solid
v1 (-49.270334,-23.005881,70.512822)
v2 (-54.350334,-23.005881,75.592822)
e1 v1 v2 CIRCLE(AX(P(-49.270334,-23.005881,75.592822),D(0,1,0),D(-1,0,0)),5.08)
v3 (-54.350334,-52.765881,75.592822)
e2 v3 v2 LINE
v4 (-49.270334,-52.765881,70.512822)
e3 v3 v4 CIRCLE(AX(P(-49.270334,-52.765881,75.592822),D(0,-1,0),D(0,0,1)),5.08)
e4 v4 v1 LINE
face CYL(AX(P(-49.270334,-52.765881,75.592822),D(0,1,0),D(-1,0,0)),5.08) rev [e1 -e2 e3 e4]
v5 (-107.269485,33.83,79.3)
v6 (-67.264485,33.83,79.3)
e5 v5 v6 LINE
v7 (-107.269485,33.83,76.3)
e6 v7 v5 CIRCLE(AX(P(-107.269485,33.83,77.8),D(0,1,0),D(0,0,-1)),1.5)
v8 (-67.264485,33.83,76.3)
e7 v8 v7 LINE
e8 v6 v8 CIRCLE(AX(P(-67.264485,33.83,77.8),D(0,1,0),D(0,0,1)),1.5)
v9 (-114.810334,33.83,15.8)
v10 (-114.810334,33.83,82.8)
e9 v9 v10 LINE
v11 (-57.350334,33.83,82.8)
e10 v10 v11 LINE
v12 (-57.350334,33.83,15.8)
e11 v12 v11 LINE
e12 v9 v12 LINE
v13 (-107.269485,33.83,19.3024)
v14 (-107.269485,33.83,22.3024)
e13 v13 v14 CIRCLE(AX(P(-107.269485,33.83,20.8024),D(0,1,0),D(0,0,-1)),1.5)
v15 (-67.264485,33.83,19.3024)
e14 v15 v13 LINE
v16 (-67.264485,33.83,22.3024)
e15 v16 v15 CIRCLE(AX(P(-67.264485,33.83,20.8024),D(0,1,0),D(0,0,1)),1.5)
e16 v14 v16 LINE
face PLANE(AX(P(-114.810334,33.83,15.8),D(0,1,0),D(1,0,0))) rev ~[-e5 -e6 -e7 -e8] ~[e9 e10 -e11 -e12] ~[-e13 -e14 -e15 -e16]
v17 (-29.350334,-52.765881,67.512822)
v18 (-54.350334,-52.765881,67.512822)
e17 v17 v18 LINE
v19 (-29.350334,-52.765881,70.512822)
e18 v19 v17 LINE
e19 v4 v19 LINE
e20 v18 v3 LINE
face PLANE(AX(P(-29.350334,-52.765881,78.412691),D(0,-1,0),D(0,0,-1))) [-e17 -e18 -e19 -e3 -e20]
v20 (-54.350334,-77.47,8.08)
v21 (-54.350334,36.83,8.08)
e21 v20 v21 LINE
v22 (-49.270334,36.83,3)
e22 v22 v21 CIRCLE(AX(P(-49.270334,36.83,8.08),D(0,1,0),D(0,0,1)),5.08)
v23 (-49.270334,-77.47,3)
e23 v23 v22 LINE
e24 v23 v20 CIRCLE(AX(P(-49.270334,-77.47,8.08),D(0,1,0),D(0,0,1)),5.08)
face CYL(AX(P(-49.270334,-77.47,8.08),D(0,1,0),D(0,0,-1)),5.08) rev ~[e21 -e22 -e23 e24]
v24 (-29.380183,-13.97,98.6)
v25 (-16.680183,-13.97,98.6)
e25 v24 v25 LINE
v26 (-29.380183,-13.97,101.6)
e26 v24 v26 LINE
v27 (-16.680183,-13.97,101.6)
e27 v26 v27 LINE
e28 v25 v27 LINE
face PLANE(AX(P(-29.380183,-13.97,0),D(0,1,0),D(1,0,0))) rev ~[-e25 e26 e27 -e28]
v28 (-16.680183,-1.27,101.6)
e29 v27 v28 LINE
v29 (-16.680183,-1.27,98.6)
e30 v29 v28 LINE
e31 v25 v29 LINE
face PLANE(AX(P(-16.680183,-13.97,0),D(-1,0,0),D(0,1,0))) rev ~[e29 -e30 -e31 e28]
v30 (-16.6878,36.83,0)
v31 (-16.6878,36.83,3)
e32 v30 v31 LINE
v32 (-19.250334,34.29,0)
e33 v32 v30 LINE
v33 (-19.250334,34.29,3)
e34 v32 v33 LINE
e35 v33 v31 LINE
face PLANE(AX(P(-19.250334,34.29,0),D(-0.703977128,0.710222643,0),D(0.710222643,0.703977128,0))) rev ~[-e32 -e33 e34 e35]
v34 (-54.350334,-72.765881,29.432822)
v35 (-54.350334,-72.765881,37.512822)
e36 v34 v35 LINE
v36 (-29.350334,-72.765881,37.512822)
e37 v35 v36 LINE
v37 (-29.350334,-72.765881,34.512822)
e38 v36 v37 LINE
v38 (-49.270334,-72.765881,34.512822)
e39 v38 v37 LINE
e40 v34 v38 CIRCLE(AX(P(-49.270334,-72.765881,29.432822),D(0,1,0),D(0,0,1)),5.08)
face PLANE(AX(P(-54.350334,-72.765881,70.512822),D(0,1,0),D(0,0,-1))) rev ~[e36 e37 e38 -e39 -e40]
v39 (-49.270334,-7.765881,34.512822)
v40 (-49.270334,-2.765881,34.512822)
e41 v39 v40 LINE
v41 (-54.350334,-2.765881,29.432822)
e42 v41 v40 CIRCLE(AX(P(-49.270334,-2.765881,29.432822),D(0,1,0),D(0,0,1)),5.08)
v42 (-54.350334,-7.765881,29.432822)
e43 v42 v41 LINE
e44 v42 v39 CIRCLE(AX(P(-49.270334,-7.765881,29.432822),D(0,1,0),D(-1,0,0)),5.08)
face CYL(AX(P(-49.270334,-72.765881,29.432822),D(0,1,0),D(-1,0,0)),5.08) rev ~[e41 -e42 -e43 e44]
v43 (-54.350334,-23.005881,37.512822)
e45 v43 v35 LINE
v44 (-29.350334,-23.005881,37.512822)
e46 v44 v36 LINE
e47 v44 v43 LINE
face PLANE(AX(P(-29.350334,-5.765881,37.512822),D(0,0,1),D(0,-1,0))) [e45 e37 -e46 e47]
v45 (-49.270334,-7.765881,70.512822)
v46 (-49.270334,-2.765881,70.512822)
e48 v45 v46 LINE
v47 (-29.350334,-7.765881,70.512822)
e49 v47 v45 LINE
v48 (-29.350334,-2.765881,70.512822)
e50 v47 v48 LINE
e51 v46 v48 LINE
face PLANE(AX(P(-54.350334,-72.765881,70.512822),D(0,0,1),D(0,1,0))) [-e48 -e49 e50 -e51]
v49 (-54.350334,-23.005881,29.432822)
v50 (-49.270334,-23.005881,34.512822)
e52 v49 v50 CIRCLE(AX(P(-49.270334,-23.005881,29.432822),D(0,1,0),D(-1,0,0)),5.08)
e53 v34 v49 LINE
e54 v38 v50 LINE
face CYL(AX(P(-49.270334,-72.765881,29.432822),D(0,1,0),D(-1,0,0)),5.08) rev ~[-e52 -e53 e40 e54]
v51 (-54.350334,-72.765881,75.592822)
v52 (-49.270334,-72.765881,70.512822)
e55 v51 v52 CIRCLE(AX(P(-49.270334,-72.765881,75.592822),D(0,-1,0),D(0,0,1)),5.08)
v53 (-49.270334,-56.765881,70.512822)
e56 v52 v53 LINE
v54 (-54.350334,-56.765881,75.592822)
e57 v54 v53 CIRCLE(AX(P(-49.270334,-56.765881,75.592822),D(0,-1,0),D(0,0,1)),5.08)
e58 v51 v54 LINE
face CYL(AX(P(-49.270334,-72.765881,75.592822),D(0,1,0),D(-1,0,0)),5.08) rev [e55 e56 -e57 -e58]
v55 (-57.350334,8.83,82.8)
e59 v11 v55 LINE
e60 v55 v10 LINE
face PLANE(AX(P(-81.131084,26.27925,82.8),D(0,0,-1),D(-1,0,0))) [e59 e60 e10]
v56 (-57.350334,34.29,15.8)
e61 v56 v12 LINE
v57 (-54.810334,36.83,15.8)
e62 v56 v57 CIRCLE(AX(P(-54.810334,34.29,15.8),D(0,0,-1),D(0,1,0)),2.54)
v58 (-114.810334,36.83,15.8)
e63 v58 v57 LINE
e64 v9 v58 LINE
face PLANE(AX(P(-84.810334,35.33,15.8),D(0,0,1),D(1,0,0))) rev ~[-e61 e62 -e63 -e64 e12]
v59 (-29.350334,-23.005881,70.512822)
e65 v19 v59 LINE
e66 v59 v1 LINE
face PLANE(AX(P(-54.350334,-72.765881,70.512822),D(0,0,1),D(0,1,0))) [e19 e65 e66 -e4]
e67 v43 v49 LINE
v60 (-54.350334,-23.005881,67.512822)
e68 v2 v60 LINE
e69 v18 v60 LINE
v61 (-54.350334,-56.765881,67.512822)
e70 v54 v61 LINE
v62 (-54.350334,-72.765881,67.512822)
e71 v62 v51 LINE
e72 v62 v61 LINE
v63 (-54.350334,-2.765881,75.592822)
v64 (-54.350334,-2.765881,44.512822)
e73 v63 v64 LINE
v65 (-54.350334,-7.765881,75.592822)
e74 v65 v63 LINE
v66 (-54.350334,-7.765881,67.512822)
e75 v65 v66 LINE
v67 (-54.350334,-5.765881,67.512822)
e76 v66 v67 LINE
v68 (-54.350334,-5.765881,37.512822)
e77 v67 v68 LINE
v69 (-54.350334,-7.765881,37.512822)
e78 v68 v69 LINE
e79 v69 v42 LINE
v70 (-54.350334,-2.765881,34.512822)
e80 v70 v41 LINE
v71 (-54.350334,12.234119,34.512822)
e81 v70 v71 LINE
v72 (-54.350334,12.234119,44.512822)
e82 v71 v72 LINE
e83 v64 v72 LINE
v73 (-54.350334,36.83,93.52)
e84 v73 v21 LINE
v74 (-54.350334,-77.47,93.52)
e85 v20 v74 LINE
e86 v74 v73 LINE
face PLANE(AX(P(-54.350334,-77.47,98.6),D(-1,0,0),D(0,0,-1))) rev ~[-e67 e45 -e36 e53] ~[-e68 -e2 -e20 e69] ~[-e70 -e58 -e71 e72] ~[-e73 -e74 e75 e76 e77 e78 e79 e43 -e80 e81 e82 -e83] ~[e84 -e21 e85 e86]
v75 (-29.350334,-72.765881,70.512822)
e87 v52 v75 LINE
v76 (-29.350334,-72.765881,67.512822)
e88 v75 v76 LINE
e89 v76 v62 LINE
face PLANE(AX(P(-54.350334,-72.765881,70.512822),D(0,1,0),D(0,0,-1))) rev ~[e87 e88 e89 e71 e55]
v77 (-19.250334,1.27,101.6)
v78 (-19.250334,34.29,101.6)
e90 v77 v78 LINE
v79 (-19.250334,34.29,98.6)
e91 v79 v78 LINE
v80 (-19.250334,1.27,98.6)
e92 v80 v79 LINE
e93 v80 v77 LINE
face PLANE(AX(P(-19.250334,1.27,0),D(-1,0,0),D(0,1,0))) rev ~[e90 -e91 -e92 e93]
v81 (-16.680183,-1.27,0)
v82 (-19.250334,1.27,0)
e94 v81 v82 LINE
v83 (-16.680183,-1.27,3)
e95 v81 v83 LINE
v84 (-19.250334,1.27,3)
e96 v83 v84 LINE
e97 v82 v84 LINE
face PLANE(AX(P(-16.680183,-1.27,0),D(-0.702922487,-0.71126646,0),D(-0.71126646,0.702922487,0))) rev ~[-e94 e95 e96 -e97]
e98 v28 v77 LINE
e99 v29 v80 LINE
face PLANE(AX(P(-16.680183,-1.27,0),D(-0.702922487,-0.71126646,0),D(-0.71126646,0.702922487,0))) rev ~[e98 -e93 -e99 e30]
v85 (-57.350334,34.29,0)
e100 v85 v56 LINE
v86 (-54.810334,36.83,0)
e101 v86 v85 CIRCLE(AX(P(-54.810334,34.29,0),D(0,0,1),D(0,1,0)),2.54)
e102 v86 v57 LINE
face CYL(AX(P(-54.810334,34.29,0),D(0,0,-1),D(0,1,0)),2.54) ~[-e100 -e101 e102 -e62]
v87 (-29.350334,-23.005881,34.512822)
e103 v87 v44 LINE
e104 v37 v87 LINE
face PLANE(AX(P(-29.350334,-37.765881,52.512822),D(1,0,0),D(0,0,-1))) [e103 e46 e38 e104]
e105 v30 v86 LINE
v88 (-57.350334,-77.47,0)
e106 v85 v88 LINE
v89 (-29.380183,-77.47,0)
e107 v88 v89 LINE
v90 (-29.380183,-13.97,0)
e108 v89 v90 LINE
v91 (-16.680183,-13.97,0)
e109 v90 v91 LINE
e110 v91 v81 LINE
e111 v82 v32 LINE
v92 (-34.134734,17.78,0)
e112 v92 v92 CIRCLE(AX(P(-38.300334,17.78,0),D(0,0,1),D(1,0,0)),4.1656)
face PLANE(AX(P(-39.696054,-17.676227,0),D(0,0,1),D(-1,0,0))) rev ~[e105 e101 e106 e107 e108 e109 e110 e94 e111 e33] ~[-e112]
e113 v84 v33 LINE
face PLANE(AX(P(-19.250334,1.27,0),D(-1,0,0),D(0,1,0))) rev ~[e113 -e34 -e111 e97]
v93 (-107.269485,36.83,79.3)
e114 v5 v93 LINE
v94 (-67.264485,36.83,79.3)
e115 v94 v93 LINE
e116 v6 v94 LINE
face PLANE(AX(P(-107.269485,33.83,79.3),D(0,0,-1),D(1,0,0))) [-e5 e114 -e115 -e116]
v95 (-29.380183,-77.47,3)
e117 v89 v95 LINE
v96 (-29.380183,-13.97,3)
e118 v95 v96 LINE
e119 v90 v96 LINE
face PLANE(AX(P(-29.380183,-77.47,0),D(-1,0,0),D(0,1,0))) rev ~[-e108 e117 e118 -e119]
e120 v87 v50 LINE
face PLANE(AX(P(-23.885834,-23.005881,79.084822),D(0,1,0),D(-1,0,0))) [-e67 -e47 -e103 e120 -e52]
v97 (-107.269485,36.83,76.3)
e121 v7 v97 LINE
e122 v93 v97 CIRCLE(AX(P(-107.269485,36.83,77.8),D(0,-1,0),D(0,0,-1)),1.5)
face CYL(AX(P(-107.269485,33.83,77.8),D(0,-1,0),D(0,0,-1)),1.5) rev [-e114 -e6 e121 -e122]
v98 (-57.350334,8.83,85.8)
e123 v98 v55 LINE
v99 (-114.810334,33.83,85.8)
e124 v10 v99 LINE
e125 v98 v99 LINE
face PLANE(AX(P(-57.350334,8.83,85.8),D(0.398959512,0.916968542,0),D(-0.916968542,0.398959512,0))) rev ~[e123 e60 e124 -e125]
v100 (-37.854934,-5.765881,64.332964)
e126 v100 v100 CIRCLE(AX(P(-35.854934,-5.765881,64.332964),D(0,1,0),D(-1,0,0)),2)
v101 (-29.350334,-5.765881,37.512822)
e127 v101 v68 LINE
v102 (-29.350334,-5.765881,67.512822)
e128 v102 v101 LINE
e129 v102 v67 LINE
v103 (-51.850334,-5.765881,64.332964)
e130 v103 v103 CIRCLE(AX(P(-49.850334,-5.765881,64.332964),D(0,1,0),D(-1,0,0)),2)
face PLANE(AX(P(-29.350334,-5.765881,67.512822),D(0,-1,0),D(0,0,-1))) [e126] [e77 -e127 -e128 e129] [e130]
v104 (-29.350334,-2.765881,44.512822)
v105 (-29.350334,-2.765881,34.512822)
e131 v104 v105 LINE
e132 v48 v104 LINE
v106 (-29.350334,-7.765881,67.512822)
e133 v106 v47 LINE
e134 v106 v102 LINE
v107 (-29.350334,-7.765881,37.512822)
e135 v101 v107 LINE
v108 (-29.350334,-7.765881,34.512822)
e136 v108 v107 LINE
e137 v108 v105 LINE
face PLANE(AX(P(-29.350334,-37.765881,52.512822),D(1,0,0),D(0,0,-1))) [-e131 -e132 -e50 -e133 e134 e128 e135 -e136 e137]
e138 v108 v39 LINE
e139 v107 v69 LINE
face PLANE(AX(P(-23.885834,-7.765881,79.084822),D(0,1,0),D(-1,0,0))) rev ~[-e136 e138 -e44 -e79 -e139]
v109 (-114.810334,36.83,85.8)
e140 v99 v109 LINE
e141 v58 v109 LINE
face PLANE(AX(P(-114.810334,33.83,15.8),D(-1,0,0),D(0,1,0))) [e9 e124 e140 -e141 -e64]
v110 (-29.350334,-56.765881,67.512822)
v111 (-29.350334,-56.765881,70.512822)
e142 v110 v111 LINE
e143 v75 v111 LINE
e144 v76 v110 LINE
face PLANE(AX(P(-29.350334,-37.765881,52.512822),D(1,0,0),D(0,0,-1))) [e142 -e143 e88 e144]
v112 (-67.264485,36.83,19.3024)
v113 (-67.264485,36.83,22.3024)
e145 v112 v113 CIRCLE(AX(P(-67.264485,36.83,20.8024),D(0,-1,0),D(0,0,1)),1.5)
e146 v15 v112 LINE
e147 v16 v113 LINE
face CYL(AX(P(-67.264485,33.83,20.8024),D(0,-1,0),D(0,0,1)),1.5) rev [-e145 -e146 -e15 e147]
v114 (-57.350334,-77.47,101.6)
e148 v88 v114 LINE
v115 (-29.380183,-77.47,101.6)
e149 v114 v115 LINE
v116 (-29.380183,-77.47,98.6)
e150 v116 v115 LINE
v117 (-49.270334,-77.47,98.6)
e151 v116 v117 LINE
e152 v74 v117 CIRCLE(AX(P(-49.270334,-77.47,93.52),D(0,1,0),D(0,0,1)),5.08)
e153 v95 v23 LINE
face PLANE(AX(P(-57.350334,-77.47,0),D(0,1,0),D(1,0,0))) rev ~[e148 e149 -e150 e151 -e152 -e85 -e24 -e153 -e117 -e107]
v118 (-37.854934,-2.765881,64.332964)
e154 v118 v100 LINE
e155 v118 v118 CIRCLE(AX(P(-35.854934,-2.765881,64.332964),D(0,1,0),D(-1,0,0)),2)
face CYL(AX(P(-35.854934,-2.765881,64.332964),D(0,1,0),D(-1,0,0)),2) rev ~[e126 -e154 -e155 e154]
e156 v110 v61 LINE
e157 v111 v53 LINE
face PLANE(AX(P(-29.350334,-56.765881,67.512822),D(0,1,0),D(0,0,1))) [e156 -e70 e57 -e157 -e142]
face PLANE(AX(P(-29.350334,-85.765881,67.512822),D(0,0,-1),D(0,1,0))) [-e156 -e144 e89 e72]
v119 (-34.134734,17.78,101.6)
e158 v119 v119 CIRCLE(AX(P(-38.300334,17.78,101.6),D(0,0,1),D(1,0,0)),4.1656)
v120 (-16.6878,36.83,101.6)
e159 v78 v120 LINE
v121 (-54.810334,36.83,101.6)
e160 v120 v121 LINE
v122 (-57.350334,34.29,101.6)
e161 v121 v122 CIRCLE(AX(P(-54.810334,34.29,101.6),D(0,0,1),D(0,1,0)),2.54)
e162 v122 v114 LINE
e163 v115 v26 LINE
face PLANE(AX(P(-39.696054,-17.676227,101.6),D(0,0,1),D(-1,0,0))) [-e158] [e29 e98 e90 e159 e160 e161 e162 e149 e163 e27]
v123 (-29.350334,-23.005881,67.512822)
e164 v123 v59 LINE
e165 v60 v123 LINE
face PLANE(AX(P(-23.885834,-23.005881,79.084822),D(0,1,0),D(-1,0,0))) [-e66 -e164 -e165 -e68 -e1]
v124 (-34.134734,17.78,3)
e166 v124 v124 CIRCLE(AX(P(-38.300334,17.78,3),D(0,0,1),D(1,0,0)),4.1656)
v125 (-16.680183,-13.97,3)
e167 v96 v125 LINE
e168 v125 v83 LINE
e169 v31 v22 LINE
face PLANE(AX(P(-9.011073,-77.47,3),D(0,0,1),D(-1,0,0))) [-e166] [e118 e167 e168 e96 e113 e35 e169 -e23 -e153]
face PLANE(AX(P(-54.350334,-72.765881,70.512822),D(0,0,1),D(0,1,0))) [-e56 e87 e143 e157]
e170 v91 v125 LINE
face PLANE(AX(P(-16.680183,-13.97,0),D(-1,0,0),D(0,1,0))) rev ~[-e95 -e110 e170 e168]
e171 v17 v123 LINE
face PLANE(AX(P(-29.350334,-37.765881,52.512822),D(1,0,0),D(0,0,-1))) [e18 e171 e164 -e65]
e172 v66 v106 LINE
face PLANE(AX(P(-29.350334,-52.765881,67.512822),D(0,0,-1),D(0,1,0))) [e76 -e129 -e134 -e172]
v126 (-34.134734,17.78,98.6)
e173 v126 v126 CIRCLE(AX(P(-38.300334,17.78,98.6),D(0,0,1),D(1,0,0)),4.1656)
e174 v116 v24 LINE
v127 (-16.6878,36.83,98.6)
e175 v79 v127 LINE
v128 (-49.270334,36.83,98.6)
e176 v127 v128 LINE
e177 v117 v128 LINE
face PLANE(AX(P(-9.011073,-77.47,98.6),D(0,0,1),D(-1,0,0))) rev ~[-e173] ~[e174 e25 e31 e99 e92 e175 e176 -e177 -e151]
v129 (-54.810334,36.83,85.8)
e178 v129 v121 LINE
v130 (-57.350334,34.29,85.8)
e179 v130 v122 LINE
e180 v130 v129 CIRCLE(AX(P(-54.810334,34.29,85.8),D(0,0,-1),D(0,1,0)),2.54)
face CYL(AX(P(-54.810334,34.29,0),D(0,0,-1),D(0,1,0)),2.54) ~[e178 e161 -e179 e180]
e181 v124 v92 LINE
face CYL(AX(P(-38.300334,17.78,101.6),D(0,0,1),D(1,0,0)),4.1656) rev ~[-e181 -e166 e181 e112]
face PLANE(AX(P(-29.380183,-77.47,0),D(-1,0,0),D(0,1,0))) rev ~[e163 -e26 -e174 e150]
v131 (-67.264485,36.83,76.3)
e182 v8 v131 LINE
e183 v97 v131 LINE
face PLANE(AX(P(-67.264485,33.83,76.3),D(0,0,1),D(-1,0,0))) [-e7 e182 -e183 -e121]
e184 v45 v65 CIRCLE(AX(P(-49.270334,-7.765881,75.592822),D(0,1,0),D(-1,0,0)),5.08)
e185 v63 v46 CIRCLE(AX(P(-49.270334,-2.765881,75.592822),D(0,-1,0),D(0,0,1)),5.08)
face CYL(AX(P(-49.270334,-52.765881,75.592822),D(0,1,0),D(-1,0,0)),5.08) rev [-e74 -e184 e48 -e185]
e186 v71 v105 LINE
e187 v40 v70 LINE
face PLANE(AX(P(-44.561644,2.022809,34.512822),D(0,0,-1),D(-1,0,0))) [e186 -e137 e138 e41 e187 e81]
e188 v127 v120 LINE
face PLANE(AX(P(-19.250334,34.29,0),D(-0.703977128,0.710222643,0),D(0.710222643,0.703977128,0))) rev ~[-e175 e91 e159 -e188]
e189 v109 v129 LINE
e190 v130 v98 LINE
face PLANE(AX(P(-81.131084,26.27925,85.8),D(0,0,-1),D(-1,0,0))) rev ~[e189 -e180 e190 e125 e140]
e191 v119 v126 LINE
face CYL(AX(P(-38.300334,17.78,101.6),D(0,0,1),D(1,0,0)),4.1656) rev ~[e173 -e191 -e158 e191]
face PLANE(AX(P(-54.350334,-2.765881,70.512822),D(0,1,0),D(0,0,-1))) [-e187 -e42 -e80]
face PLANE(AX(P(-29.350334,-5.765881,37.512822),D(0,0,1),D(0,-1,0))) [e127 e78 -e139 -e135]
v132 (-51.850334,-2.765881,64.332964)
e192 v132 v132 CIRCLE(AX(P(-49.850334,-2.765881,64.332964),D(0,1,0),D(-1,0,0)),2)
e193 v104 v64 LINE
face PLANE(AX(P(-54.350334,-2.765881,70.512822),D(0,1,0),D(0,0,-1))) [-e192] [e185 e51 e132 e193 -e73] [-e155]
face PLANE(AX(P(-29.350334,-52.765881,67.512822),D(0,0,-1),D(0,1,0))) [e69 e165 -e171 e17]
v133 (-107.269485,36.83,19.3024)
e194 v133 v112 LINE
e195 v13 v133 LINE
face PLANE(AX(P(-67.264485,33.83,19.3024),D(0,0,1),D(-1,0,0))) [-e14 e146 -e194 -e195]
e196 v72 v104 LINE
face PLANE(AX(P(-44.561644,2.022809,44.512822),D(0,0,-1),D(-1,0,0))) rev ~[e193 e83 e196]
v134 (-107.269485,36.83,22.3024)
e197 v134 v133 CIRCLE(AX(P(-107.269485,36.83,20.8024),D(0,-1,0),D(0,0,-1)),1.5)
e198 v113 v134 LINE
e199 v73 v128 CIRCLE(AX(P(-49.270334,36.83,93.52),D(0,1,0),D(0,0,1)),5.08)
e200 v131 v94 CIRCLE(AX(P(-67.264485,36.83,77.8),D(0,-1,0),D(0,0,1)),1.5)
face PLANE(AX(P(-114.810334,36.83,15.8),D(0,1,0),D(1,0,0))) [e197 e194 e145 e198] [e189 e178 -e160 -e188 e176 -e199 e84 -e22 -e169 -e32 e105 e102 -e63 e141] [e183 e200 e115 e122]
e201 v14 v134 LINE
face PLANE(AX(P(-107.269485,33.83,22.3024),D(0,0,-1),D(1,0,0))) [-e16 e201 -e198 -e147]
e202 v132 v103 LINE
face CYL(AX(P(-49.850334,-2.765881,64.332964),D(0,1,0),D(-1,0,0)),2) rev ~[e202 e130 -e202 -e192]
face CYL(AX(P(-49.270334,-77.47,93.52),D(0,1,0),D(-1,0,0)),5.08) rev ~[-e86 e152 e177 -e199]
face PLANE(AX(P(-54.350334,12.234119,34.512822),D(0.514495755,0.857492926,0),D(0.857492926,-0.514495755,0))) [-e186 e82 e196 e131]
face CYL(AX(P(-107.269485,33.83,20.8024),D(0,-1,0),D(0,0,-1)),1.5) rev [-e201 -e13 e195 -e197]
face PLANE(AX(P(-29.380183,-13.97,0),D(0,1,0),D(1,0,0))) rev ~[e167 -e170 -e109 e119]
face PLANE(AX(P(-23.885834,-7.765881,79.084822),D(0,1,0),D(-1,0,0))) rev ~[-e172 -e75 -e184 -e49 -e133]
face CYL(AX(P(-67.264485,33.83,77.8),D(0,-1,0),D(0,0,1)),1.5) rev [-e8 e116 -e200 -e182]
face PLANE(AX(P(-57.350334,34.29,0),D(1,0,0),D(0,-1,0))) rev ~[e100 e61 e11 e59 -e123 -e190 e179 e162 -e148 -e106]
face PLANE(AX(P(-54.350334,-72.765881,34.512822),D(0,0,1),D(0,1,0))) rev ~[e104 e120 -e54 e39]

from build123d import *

# Parameters (mm, degrees)
BOSS_EXTRUDE1_DEPTH      = 101.6
SKETCH2_R                = 4.1656
CUT_EXTRUDE1_DEPTH       = 141.047212542
SKETCH3_W                = 45.3392611
SKETCH3_H                = 95.6
CUT_EXTRUDE2_DEPTH       = 164.328230385
SKETCH5_W                = 36
SKETCH5_H                = 70
BOSS_EXTRUDE2_DEPTH      = 25
CUT_EXTRUDE3_DEPTH       = 25
FILLET1_R                = 5.08
SKETCH7_R                = 2
CUT_EXTRUDE4_DEPTH       = 139.536371578
CUT_EXTRUDE5_DEPTH       = 7.488
CUT_EXTRUDE5_DEPTH_BACK  = 44.572
SKETCH8_W                = 30.464500282
SKETCH8_H                = 15.24
BOSS_EXTRUDE3_DEPTH      = 10
BOSS_EXTRUDE4_DEPTH      = 35
BOSS_EXTRUDE4_DEPTH_BACK = 35
SKETCH11_W               = 60
SKETCH11_H               = 3
BOSS_EXTRUDE5_DEPTH      = 3
CUT_EXTRUDE6_DEPTH       = 190.450951053


with BuildPart() as part:
    # Sketch1 → Boss-Extrude1 (new body)
    with BuildSketch(Plane(origin=(0, 0, 0), x_dir=(-1, 0, 0), z_dir=(0, 0, 1))):
        with BuildLine():
            Line((57.350334268, 77.47), (29.380183448, 77.47))
            Line((29.380183448, 77.47), (29.380183448, 13.97))
            Line((29.380183448, 13.97), (16.680183448, 13.97))
            Line((16.680183448, 13.97), (16.680183448, 1.27))
            Line((16.680183448, 1.27), (19.250334268, -1.27))
            Line((19.250334268, -1.27), (19.250334268, -34.29))
            Line((19.250334268, -34.29), (16.6878, -36.83))
            Line((16.6878, -36.83), (54.810334268, -36.83))
            ThreePointArc((54.810334268, -36.83), (56.606385492, -36.086051224), (57.350334268, -34.29))
            Line((57.350334268, -34.29), (57.350334268, 77.47))
        make_face()
    extrude(amount=BOSS_EXTRUDE1_DEPTH)

    # Sketch2 → Cut-Extrude1 (cut, through all)
    with BuildSketch(Plane.XY.offset(101.6)):
        with Locations((-38.300334268, 17.78)):
            Circle(SKETCH2_R)
    extrude(amount=-CUT_EXTRUDE1_DEPTH, mode=Mode.SUBTRACT)

    # Sketch3 → Cut-Extrude2 (cut, through all)
    with BuildSketch(Plane(origin=(0, -77.47, 0), x_dir=(-1, 0, 0), z_dir=(0, -1, 0))):
        with Locations((31.680703718, -50.8)):
            Rectangle(SKETCH3_W, SKETCH3_H)
    extrude(amount=-CUT_EXTRUDE2_DEPTH, mode=Mode.SUBTRACT)

    # Sketch5 → Boss-Extrude2 (add)
    with BuildSketch(Plane(origin=(-54.350334268, 0, 0), x_dir=(0, 0, -1), z_dir=(1, 0, 0))):
        with Locations((-52.512822265, -37.765880907)):
            Rectangle(SKETCH5_W, SKETCH5_H)
    extrude(amount=BOSS_EXTRUDE2_DEPTH)

    # Sketch6 → Cut-Extrude3 (cut)
    with BuildSketch(Plane(origin=(-29.350334268, 0, 0), x_dir=(0, 0, -1), z_dir=(1, 0, 0))):
        Polygon((-67.512822265, -5.765880907), (-37.512822265, -5.765880907), (-37.512822265, -85.765880907), (-67.512822265, -85.765880907), (-67.512822265, -56.765880907), (-78.412691352, -56.765880907), (-78.412691352, -52.765880907), (-67.512822265, -52.765880907), align=None)
    extrude(amount=-CUT_EXTRUDE3_DEPTH, mode=Mode.SUBTRACT)

    # Fillet1
    fillet1_edges = [part.edges().sort_by_distance(p)[0] for p in [
        (-54.350334268, -20.32, 98.6),
        (-54.350334268, -20.32, 3),
        (-54.350334268, -37.765880907, 34.512822265),
        (-54.350334268, -27.765880907, 70.512822265),
        (-54.350334268, -64.765880907, 70.512822265),
    ]]
    fillet(fillet1_edges, radius=FILLET1_R)

    # Sketch7 → Cut-Extrude4 (cut, through all)
    with BuildSketch(Plane(origin=(0, -2.765880907, 0), x_dir=(1, 0, 0), z_dir=(0, 1, 0))):
        with Locations(Location((-49.850334378, -64.332963641, 0), (0, 0, 180))):
            Circle(SKETCH7_R)
        with Locations(Location((-35.854934378, -64.332963641, 0), (0, 0, 180))):
            Circle(SKETCH7_R)
    extrude(amount=-CUT_EXTRUDE4_DEPTH, mode=Mode.SUBTRACT)

    # Sketch8 → Cut-Extrude5 (cut, two sides: drawn at the far end of the back side and taken through both)
    with BuildSketch(Plane(origin=(0, 0, 34.512822265), x_dir=(-1, 0, 0), z_dir=(0, 0, -1)).offset(-CUT_EXTRUDE5_DEPTH_BACK)):
        with Locations((39.118084127, -15.385880813)):
            Rectangle(SKETCH8_W, SKETCH8_H)
    extrude(amount=CUT_EXTRUDE5_DEPTH + CUT_EXTRUDE5_DEPTH_BACK, mode=Mode.SUBTRACT)

    # Sketch9 → Boss-Extrude3 (add)
    with BuildSketch(Plane(origin=(0, 0, 34.512822265), x_dir=(-1, 0, 0), z_dir=(0, 0, -1))):
        Polygon((29.350334268, -2.765880907), (54.350334268, -2.765880907), (54.350334268, 12.234119093), align=None)
    extrude(amount=-BOSS_EXTRUDE3_DEPTH)

    # Sketch11 → Boss-Extrude4 (add, two sides: drawn at the far end of the back side and taken through both)
    with BuildSketch(Plane.XY.offset(50.8).offset(-BOSS_EXTRUDE4_DEPTH_BACK)):
        with Locations((-84.810334268, 35.33)):
            Rectangle(SKETCH11_W, SKETCH11_H)
    extrude(amount=BOSS_EXTRUDE4_DEPTH + BOSS_EXTRUDE4_DEPTH_BACK)

    # Sketch12 → Boss-Extrude5 (add)
    with BuildSketch(Plane.XY.offset(85.8)):
        Polygon((-114.810334268, 33.83), (-57.350334268, 33.83), (-57.350334268, 8.83), align=None)
    extrude(amount=-BOSS_EXTRUDE5_DEPTH)

    # Sketch13 → Cut-Extrude6 (cut, through all)
    with BuildSketch(Plane(origin=(0, 33.83, 0), x_dir=(-1, 0, 0), z_dir=(0, -1, 0))):
        with BuildLine():
            Line((107.269485022, -79.300000094), (67.264485022, -79.300000094))
            ThreePointArc((67.264485022, -79.300000094), (65.764485022, -77.800000094), (67.264485022, -76.300000094))
            Line((67.264485022, -76.300000094), (107.269485022, -76.300000094))
            ThreePointArc((107.269485022, -76.300000094), (108.769485022, -77.800000094), (107.269485022, -79.300000094))
        make_face()
        with BuildLine():
            Line((107.269485022, -22.302400094), (67.264485022, -22.302400094))
            ThreePointArc((67.264485022, -22.302400094), (65.764485022, -20.802400094), (67.264485022, -19.302400094))
            Line((67.264485022, -19.302400094), (107.269485022, -19.302400094))
            ThreePointArc((107.269485022, -19.302400094), (108.769485022, -20.802400094), (107.269485022, -22.302400094))
        make_face()
    extrude(amount=-CUT_EXTRUDE6_DEPTH, mode=Mode.SUBTRACT)


solid = part.part
